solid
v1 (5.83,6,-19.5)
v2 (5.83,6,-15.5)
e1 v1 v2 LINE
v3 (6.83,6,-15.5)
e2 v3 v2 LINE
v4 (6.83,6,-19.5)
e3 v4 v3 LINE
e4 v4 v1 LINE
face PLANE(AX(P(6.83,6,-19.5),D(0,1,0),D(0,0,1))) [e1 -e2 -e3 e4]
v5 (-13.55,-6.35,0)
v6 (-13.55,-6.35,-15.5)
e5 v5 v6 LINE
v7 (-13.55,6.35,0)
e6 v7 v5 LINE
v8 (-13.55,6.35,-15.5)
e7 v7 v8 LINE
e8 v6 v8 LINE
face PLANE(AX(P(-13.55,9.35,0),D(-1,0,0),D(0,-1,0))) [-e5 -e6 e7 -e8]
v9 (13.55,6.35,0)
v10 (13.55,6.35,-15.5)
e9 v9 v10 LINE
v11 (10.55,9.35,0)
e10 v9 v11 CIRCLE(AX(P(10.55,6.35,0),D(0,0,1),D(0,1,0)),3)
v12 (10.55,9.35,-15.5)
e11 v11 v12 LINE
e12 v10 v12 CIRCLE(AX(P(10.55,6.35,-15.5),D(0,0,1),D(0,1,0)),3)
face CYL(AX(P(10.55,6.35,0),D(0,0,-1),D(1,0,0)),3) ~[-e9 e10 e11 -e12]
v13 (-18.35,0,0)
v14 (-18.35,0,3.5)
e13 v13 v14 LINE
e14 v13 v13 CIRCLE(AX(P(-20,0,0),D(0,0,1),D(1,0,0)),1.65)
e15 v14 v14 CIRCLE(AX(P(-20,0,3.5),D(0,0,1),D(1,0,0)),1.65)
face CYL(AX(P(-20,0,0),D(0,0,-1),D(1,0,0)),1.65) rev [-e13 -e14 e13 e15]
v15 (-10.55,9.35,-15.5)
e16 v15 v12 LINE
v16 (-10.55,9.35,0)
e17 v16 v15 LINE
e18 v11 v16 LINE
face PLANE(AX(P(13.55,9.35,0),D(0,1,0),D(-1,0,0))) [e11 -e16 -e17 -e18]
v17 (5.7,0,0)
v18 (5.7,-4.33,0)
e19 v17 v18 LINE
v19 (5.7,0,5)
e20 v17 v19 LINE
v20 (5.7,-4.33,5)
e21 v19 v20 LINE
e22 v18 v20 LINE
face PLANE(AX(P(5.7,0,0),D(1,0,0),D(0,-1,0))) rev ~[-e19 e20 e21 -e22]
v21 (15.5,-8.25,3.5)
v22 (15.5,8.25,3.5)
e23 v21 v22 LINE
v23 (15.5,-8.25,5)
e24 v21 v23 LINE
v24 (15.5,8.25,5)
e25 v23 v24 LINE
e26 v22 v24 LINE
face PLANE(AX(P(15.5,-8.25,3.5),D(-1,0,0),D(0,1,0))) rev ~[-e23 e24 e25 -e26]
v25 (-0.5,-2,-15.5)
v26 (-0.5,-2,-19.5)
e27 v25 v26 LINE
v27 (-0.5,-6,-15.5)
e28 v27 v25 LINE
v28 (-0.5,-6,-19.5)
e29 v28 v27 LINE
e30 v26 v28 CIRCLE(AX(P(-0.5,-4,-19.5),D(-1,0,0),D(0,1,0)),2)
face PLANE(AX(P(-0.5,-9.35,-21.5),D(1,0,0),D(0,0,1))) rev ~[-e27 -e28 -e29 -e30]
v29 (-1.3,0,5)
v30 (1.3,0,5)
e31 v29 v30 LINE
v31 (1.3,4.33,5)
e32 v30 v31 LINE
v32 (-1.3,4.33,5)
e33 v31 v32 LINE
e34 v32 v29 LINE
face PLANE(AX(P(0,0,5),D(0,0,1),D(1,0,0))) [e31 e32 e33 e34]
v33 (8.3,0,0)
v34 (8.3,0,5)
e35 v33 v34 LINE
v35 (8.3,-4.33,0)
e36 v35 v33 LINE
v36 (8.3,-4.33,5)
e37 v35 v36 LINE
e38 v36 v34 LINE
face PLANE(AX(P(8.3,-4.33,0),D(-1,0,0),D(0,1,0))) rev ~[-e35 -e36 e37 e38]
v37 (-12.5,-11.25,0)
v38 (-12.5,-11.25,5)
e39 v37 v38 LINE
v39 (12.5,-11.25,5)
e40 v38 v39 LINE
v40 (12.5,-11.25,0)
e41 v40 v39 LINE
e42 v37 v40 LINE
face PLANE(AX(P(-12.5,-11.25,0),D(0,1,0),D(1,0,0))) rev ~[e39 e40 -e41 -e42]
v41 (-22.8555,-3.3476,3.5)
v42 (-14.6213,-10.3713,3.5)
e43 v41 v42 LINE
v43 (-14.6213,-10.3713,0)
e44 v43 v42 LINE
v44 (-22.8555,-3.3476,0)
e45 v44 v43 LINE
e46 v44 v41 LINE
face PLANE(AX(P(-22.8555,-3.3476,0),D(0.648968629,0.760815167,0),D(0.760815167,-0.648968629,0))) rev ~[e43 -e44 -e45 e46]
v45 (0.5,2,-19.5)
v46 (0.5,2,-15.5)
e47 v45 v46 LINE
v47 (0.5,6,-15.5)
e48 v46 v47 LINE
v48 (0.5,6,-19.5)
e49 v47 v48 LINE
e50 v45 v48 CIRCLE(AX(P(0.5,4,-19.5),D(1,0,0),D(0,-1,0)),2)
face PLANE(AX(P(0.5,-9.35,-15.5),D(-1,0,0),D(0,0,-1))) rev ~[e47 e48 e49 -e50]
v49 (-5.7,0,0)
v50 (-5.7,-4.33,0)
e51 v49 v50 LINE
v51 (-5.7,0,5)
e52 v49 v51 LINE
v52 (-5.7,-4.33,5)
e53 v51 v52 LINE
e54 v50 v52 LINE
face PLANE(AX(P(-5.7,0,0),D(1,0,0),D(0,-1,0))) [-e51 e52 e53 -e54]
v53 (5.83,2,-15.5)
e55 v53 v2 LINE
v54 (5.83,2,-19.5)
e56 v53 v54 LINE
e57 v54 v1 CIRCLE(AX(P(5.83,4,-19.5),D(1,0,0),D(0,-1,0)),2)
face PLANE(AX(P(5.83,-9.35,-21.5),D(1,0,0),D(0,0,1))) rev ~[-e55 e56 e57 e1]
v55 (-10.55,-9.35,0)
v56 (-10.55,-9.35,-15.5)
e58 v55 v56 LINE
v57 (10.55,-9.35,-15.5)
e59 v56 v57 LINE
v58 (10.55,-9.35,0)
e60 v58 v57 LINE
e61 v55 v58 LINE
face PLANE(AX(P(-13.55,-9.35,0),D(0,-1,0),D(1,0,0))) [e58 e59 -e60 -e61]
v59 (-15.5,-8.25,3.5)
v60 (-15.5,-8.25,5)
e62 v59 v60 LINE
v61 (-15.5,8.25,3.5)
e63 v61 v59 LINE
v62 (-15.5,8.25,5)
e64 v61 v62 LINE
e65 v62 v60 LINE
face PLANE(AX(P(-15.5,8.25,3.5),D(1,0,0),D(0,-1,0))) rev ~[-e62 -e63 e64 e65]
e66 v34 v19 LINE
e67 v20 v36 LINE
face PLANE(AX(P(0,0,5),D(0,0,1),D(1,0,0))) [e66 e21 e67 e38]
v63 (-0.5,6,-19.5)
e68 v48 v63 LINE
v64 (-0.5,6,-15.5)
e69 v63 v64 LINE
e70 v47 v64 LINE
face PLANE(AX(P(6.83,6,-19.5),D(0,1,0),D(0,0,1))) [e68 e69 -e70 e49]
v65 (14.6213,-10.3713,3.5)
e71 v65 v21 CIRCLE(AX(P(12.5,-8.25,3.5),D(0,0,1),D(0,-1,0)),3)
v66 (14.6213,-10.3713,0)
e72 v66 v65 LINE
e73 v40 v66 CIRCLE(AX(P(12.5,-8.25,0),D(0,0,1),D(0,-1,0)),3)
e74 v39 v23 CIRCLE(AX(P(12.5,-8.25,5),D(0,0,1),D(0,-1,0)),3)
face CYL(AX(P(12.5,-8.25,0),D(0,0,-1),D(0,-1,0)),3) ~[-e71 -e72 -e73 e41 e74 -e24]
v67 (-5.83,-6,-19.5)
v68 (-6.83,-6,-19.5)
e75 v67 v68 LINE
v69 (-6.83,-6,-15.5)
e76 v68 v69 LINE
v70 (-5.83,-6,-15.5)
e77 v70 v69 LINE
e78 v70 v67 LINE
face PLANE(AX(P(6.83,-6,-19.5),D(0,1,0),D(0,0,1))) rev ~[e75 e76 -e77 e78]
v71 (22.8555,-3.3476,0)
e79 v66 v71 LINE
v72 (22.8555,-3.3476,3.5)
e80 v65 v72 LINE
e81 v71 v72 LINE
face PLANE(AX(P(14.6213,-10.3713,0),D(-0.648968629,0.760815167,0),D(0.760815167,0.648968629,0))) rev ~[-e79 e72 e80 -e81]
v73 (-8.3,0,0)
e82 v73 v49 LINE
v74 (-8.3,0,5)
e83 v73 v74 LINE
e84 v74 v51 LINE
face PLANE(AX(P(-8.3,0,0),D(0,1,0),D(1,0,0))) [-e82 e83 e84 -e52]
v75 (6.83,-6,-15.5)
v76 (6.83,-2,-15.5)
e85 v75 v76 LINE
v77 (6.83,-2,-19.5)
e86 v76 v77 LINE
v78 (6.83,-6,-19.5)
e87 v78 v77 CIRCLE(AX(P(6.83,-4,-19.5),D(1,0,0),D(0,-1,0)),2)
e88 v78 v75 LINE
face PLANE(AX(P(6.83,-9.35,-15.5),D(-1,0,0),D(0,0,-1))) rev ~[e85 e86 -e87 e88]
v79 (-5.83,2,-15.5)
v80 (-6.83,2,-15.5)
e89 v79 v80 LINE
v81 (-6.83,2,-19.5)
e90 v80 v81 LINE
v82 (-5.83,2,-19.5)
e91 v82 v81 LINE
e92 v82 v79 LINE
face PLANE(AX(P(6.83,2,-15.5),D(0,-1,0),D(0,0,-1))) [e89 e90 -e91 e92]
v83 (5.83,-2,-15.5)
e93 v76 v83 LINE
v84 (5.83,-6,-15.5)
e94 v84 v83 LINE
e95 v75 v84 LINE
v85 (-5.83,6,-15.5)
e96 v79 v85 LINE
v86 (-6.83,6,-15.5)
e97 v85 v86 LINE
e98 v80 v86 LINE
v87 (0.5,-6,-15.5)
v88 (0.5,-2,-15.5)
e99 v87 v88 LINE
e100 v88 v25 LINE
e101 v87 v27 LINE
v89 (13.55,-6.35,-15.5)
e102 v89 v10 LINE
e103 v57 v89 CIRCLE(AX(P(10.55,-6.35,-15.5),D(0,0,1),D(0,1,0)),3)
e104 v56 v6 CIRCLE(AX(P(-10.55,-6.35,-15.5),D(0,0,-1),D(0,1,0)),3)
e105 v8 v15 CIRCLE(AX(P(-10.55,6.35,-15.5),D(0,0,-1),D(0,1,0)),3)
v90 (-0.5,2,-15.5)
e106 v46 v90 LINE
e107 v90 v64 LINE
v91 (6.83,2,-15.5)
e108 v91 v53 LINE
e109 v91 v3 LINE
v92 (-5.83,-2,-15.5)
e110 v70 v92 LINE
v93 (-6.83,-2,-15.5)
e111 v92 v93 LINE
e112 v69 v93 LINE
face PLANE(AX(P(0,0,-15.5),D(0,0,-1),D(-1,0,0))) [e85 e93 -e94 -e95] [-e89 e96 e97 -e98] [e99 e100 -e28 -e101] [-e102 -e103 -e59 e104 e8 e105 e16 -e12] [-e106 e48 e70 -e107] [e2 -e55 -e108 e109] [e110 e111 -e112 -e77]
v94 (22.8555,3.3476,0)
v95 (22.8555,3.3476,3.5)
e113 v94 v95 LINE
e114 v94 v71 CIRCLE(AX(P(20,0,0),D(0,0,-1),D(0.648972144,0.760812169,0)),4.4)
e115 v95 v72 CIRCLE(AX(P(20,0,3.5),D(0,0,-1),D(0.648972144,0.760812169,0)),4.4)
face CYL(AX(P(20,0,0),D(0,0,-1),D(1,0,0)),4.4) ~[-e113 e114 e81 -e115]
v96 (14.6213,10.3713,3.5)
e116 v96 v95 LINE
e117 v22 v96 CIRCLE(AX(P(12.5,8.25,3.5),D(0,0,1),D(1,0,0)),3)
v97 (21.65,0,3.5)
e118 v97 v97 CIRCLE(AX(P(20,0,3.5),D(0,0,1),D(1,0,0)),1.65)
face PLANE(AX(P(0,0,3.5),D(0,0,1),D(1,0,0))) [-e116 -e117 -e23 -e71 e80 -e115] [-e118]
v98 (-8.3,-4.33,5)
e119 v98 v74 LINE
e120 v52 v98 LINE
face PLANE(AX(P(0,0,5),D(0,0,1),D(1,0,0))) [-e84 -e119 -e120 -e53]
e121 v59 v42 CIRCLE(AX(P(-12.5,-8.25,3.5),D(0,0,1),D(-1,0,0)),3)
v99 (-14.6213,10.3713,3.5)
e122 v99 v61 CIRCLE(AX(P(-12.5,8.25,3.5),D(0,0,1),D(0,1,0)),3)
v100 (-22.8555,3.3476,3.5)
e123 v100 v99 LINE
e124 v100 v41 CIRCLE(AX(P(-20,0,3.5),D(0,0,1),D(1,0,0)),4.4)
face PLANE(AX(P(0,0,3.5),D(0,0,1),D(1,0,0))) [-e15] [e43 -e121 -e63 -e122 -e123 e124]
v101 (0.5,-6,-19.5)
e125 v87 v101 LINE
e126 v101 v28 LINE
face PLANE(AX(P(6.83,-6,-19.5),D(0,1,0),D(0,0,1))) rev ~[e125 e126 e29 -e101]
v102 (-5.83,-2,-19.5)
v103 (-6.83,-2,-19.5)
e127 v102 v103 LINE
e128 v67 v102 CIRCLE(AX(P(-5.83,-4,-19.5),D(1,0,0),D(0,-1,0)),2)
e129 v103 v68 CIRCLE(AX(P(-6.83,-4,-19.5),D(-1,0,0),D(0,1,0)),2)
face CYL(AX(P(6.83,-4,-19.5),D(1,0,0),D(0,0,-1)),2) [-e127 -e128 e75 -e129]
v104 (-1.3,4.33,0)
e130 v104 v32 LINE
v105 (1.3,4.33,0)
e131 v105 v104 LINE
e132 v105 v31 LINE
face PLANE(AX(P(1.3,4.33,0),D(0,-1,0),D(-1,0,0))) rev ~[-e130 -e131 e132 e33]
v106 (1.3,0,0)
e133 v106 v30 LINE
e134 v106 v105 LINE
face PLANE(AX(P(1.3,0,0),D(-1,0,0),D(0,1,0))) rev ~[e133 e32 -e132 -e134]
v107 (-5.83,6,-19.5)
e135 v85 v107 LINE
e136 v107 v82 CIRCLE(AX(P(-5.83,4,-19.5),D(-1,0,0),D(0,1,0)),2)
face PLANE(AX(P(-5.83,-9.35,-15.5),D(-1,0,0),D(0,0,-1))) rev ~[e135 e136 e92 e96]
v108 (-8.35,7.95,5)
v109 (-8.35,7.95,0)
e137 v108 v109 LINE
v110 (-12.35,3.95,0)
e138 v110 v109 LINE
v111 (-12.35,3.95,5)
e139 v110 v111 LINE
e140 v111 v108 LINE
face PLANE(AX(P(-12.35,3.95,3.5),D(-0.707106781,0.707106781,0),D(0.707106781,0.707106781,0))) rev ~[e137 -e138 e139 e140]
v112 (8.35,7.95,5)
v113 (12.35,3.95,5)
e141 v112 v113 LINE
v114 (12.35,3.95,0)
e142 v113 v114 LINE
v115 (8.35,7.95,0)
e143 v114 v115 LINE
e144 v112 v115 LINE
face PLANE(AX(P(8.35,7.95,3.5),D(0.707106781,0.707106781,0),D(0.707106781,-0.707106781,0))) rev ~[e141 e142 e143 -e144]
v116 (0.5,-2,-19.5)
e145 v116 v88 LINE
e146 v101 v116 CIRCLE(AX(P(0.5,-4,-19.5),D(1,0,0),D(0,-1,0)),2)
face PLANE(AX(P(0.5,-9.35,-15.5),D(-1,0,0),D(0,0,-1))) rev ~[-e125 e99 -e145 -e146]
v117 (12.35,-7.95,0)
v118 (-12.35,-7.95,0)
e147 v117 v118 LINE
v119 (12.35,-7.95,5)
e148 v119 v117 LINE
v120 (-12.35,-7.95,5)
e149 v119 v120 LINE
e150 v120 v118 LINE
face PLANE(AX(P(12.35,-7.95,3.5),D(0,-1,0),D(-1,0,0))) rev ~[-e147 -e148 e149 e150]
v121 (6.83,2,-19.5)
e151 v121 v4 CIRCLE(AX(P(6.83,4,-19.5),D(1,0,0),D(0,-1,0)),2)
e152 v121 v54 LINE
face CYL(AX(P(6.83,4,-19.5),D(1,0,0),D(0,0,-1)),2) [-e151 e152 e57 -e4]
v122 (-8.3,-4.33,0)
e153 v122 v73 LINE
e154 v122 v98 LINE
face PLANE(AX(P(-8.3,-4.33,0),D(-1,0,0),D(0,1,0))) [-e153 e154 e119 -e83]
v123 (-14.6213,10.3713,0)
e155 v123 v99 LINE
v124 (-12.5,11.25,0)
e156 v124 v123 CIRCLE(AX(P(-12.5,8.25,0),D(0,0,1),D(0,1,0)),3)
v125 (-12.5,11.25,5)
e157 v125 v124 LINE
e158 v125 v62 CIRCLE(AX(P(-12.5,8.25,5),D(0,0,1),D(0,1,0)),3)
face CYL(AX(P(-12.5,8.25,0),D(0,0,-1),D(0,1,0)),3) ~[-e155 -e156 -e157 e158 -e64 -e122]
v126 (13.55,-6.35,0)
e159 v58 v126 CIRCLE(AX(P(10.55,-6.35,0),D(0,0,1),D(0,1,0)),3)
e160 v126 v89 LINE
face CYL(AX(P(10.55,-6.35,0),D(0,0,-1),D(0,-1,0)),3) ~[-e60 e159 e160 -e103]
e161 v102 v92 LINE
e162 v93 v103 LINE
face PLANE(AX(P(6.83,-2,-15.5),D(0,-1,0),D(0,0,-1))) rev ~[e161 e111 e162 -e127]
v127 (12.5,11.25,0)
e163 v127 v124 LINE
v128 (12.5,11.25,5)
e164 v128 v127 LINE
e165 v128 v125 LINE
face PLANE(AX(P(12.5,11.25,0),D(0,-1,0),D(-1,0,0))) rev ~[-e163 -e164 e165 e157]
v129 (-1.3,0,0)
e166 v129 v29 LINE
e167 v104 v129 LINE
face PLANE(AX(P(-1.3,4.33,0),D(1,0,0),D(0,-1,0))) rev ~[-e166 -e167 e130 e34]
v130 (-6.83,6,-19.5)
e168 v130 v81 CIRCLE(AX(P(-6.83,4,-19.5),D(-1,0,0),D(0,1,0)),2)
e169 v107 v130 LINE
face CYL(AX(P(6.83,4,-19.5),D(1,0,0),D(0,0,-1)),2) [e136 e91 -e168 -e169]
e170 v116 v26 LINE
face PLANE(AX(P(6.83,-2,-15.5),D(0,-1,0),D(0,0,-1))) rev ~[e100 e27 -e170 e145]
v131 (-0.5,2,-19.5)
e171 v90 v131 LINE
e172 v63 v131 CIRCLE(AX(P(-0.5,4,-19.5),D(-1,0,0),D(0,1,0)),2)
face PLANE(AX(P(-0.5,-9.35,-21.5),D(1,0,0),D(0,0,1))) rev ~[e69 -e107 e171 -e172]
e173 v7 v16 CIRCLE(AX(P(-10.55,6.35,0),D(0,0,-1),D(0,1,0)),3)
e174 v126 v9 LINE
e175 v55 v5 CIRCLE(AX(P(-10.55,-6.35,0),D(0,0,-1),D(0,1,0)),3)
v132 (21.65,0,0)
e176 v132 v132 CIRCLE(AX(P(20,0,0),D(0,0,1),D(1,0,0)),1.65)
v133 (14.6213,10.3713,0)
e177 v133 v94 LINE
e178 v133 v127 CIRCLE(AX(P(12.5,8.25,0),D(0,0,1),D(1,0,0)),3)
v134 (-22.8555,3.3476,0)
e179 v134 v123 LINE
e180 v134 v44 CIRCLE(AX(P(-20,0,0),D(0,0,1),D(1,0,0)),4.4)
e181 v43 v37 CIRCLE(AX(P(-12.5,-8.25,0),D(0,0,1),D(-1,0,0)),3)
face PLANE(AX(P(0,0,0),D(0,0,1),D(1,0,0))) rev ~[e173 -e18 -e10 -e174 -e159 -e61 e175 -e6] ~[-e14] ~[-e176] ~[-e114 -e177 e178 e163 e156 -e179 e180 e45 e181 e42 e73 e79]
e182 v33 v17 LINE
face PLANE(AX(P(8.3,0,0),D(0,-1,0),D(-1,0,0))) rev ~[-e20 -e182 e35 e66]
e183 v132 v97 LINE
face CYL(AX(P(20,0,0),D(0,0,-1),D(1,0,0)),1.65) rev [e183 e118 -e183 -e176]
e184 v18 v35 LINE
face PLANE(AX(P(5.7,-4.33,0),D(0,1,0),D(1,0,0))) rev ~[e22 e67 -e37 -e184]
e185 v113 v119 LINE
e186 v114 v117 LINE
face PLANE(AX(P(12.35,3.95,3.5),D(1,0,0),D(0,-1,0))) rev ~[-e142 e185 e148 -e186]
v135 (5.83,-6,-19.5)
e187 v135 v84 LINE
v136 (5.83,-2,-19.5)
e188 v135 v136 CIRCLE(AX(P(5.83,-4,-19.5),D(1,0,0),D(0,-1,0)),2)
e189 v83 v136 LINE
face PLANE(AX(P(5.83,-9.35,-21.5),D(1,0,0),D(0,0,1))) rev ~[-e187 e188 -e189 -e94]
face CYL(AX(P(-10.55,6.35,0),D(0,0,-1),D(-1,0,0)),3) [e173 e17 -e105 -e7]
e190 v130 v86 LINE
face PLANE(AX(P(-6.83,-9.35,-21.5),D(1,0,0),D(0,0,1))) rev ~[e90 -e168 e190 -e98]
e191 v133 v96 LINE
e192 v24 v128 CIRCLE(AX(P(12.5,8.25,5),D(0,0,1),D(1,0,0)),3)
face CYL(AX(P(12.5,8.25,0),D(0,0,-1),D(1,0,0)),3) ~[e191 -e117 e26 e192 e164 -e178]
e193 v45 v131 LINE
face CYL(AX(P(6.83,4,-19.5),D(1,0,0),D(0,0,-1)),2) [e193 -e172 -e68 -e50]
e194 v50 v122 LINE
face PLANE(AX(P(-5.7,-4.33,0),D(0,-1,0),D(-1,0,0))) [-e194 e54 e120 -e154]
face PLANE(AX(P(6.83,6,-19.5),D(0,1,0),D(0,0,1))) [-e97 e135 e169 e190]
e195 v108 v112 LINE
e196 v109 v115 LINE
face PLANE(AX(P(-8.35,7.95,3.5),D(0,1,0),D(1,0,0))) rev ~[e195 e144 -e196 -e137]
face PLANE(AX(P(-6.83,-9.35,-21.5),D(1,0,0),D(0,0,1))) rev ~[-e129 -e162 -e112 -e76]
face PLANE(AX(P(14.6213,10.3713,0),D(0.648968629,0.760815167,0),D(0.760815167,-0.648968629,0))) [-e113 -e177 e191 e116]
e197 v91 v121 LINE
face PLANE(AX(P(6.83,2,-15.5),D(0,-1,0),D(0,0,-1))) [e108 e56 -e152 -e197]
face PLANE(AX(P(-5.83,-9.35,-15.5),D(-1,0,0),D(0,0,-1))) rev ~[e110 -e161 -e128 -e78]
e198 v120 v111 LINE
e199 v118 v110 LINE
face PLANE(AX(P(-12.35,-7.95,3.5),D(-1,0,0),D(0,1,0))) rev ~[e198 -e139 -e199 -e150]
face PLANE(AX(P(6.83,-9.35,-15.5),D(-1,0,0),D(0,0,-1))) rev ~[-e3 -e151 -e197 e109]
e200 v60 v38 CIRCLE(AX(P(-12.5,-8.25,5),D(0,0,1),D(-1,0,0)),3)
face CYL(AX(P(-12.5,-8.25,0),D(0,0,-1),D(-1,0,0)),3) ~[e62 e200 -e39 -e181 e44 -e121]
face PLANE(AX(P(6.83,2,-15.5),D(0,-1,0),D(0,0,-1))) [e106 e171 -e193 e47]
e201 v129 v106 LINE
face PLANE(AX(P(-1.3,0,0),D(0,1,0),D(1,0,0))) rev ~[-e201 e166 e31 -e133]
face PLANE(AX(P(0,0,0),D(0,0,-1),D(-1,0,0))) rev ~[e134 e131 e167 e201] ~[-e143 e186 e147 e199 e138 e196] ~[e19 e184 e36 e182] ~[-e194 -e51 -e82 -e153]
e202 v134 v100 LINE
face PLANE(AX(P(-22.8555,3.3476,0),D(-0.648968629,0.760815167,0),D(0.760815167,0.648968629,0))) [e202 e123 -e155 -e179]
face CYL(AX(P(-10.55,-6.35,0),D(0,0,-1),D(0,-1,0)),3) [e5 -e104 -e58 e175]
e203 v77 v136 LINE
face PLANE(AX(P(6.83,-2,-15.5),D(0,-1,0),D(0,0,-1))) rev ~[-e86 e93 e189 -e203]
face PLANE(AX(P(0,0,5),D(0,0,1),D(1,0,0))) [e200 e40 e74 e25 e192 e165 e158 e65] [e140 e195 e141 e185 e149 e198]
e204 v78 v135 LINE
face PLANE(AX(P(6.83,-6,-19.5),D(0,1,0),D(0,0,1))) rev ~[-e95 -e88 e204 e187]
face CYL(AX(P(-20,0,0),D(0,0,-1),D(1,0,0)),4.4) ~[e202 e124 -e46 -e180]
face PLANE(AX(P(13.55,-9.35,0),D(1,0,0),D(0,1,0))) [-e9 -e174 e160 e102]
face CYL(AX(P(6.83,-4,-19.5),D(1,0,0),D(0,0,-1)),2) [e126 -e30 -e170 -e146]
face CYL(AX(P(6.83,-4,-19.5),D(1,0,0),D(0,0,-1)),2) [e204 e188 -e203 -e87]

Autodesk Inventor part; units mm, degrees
ref_plane "YZ Plane" through (0, 0, 0) normal (1, 0, 0) x (0, 1, 0)
ref_plane "XZ Plane" through (0, 0, 0) normal (0, 1, 0) x (-1, 0, 0)
ref_plane "XY Plane" through (0, 0, 0) normal (0, 0, 1) x (1, 0, 0)
sketch "Base" plane through (0, 0, 0) normal (0, 0, 1) x (1, 0, 0)
  line L0 (-12.5, -11.25) -> (12.5, -11.25)
  line L1 (15.5, -8.25) -> (15.5, 8.25)
  line L2 (12.5, 11.25) -> (-12.5, 11.25)
  line L3 (-15.5, 8.25) -> (-15.5, -8.25)
  line L4 (-15.5, -11.25) -> (15.5, 11.25) construction
  line L5 (15.5, -11.25) -> (-15.5, 11.25) construction
  line L6 (-34.16, 0) -> (34.16, 0) construction
  line L7 (0, -16.6198) -> (0, 16.6198) construction
  circle A0 centre (-20, 0) radius 1.65
  circle A1 centre (20, 0) radius 1.65
  circle A2 centre (-20, 0) radius 4.4
  circle A3 centre (20, 0) radius 4.4
  line L8 (-24.4, 0) -> (24.4, 0) construction
  arc A4 (-12.5, 11.25) -> (-15.5, 8.25) centre (-12.5, 8.25) ccw
  arc A5 (-15.5, -8.25) -> (-12.5, -11.25) centre (-12.5, -8.25) ccw
  arc A6 (15.5, 8.25) -> (12.5, 11.25) centre (12.5, 8.25) ccw
  arc A7 (12.5, -11.25) -> (15.5, -8.25) centre (12.5, -8.25) ccw
  line L9 (-22.8555, 3.3476) -> (-14.6213, 10.3713)
  line L10 (14.6213, 10.3713) -> (22.8555, 3.3476)
  line L11 (-22.8555, -3.3476) -> (-14.6213, -10.3713)
  line L12 (14.6213, -10.3713) -> (22.8555, -3.3476)
  point P0 (0, 0)
  dimension "d0" = 31
  dimension "d1" = 22.5
  dimension "d2" = 3.3
  dimension "d3" = 48.8
  dimension "d4" = 40
  dimension "d15" = 3
  dimension "d16" = 3
extrude "BaseFeature" add sketch "Base" along normal blind 3.5
sketch "ReceptacleInside" plane through (0, 0, 3.5) normal (0, 0, 1) x (1, 0, 0)
  line L0 (-12.35, 7.95) -> (12.35, 7.95)
  line L1 (12.35, 7.95) -> (12.35, -7.95)
  line L2 (12.35, -7.95) -> (-12.35, -7.95)
  line L3 (-12.35, -7.95) -> (-12.35, 7.95)
  line L4 (-12.35, 7.95) -> (12.35, -7.95) construction
  line L5 (12.35, 7.95) -> (-12.35, -7.95) construction
  line L6 (-12.35, 3.95) -> (-8.35, 7.95)
  line L7 (12.35, 3.95) -> (8.35, 7.95)
  line L8 (-34.16, 0) -> (34.16, 0) construction
  line L9 (0, -15.75) -> (0, 15.75) construction
  point P0 (0, 0)
  point P1 (8.35, 7.95)
  dimension "d10" = 15.9
  dimension "d11" = 4
  dimension "d12" = 4
extrude "ReceptacleInsideFeature" cut sketch "ReceptacleInside" against normal through all contours L0 L7 L1 L2 L3 L6
sketch "Receptacle" plane through (0, 0, 3.5) normal (0, 0, 1) x (1, 0, 0)
  arc A0 (-12.5, 11.25) -> (-15.5, 8.25) centre (-12.5, 8.25) ccw projected
  line L0 (-15.5, 8.25) -> (-15.5, -8.25) projected
  arc A1 (-15.5, -8.25) -> (-12.5, -11.25) centre (-12.5, -8.25) ccw projected
  line L1 (-12.5, -11.25) -> (12.5, -11.25) projected
  arc A2 (12.5, -11.25) -> (15.5, -8.25) centre (12.5, -8.25) ccw projected
  line L2 (15.5, -8.25) -> (15.5, 8.25) projected
  arc A3 (15.5, 8.25) -> (12.5, 11.25) centre (12.5, 8.25) ccw projected
  line L3 (12.5, 11.25) -> (-12.5, 11.25) projected
  line L4 (-12.35, 3.95) -> (-8.35, 7.95) projected
  line L5 (-8.35, 7.95) -> (8.35, 7.95) projected
  line L6 (8.35, 7.95) -> (12.35, 3.95) projected
  line L7 (12.35, 3.95) -> (12.35, -7.95) projected
  line L8 (12.35, -7.95) -> (-12.35, -7.95) projected
  line L9 (-12.35, -7.95) -> (-12.35, 3.95) projected
  point P0 (0, 0)
extrude "Extrusion4" add sketch "Receptacle" along normal blind 1.5
sketch "Sketch5" plane through (0, 0, 0) normal (0, 0, -1) x (-1, 0, 0)
  line L0 (13.55, -9.35) -> (-13.55, -9.35)
  line L1 (-13.55, -9.35) -> (-13.55, 9.35)
  line L2 (-13.55, 9.35) -> (13.55, 9.35)
  line L3 (13.55, 9.35) -> (13.55, -9.35)
  line L4 (13.55, -9.35) -> (-13.55, 9.35) construction
  line L5 (-13.55, -9.35) -> (13.55, 9.35) construction
  point P0 (0, 0)
  dimension "d19" = 27.1
  dimension "d20" = 18.7
extrude "Extrusion5" add sketch "Sketch5" along normal blind 15.5
fillet "Fillet1" radius 3 4 edges at (-13.55, -9.35, -7.75) (13.55, -9.35, -7.75) (-13.55, 9.35, -7.75) (13.55, 9.35, -7.75)
sketch "Sketch6" plane through (0, 0, 0) normal (0, 0, 1) x (1, 0, 0)
  line L0 (-34.16, 0) -> (34.16, 0) construction
  line L1 (-1.3, 0) -> (1.3, 0)
  line L2 (1.3, 0) -> (1.3, 4.33)
  line L3 (1.3, 4.33) -> (-1.3, 4.33)
  line L4 (-1.3, 4.33) -> (-1.3, 0)
  line L5 (0, -15.75) -> (0, 15.75) construction
  line L6 (-8.3, 0) -> (-5.7, 0)
  line L7 (-5.7, 0) -> (-5.7, -4.33)
  line L8 (-5.7, -4.33) -> (-8.3, -4.33)
  line L9 (-8.3, -4.33) -> (-8.3, 0)
  line L10 (8.3, 0) -> (5.7, 0)
  line L11 (5.7, 0) -> (5.7, -4.33)
  line L12 (5.7, -4.33) -> (8.3, -4.33)
  line L13 (8.3, -4.33) -> (8.3, 0)
  point P0 (0, 0)
  point P1 (7, -4.33)
  point P2 (-7, -4.33)
  dimension "d24" = 14
  dimension "d25" = 2.6
  dimension "d26" = 4.33
extrude "Extrusion6" add sketch "Sketch6" along normal up to surface (5 mm away)
sketch "Sketch7" plane through (-10.55, -9.35, 0) normal (0, -1, 0) x (1, 0, 0)
  line L0 (0, -15.5) -> (21.1, -15.5) projected
  line L1 (3.72, -15.5) -> (4.72, -15.5)
  line L2 (4.72, -15.5) -> (4.72, -21.5)
  line L3 (4.72, -21.5) -> (3.72, -21.5)
  line L4 (3.72, -21.5) -> (3.72, -15.5)
  line L5 (10.05, -15.5) -> (11.05, -15.5)
  line L6 (11.05, -15.5) -> (11.05, -21.5)
  line L7 (11.05, -21.5) -> (10.05, -21.5)
  line L8 (10.05, -21.5) -> (10.05, -15.5)
  line L9 (16.38, -15.5) -> (17.38, -15.5)
  line L10 (17.38, -15.5) -> (17.38, -21.5)
  line L11 (17.38, -21.5) -> (16.38, -21.5)
  line L12 (16.38, -21.5) -> (16.38, -15.5)
  line L13 (10.55, -21.5) -> (10.55, 5) construction
  line L14 (11.85, 5) -> (9.25, 5) projected
  line L15 (10.55, -26.8) -> (10.55, 10.3) construction
  point P0 (10.55, 0)
  point P1 (4.72, -15.5)
  dimension "d29" = 6
  dimension "d30" = 5.33
  dimension "d31" = 5.33
  dimension "d32" = 1
extrude "Extrusion7" add sketch "Sketch7" against normal up to surface (18.7 mm away)
sketch "Sketch8" plane through (6.83, -9.35, -15.5) normal (1, 0, 0) x (0, 0, -1)
  circle A0 centre (4, 5.35) radius 2
  line L0 (6, 0) -> (6, 18.7) projected
  line L1 (0, 0) -> (0, 18.7) projected
  line L2 (4, 3.35) -> (0, 3.35)
  line L3 (0, 3.35) -> (0, 7.35)
  line L4 (0, 7.35) -> (4, 7.35)
  line L5 (4, 7.35) -> (4, 3.35)
  line L6 (11.3, 9.35) -> (-25.8, 9.35) construction
  circle A1 centre (4, 13.35) radius 2
  line L7 (4, 15.35) -> (0, 15.35)
  line L8 (0, 11.35) -> (4, 11.35)
  line L9 (6, 18.7) -> (0, 18.7) projected
  line L10 (0, 0) -> (0, 18.7) projected
  line L11 (6, 0) -> (0, 0) projected
  line L12 (6, 0) -> (6, 18.7) projected
  point P0 (-15.5, 9.35)
  point P1 (6, 5.35)
  point P2 (0, 3.35)
  point P3 (6, 13.35)
  point P4 (0, 15.35)
  dimension "d35" = 4
  dimension "d36" = 4
  dimension "d37" = 4
  dimension "d38" = 2
extrude "Extrusion8" cut sketch "Sketch8" against normal through all contours L0 L11 L1 L2 A0 | A0 L4 L1 L8 A1 L0 | A1 L7 L1 L9 L0
equation "\"d27\" = d25"
equation "\"d33\" = d30"
properties part number "Qteatak"
